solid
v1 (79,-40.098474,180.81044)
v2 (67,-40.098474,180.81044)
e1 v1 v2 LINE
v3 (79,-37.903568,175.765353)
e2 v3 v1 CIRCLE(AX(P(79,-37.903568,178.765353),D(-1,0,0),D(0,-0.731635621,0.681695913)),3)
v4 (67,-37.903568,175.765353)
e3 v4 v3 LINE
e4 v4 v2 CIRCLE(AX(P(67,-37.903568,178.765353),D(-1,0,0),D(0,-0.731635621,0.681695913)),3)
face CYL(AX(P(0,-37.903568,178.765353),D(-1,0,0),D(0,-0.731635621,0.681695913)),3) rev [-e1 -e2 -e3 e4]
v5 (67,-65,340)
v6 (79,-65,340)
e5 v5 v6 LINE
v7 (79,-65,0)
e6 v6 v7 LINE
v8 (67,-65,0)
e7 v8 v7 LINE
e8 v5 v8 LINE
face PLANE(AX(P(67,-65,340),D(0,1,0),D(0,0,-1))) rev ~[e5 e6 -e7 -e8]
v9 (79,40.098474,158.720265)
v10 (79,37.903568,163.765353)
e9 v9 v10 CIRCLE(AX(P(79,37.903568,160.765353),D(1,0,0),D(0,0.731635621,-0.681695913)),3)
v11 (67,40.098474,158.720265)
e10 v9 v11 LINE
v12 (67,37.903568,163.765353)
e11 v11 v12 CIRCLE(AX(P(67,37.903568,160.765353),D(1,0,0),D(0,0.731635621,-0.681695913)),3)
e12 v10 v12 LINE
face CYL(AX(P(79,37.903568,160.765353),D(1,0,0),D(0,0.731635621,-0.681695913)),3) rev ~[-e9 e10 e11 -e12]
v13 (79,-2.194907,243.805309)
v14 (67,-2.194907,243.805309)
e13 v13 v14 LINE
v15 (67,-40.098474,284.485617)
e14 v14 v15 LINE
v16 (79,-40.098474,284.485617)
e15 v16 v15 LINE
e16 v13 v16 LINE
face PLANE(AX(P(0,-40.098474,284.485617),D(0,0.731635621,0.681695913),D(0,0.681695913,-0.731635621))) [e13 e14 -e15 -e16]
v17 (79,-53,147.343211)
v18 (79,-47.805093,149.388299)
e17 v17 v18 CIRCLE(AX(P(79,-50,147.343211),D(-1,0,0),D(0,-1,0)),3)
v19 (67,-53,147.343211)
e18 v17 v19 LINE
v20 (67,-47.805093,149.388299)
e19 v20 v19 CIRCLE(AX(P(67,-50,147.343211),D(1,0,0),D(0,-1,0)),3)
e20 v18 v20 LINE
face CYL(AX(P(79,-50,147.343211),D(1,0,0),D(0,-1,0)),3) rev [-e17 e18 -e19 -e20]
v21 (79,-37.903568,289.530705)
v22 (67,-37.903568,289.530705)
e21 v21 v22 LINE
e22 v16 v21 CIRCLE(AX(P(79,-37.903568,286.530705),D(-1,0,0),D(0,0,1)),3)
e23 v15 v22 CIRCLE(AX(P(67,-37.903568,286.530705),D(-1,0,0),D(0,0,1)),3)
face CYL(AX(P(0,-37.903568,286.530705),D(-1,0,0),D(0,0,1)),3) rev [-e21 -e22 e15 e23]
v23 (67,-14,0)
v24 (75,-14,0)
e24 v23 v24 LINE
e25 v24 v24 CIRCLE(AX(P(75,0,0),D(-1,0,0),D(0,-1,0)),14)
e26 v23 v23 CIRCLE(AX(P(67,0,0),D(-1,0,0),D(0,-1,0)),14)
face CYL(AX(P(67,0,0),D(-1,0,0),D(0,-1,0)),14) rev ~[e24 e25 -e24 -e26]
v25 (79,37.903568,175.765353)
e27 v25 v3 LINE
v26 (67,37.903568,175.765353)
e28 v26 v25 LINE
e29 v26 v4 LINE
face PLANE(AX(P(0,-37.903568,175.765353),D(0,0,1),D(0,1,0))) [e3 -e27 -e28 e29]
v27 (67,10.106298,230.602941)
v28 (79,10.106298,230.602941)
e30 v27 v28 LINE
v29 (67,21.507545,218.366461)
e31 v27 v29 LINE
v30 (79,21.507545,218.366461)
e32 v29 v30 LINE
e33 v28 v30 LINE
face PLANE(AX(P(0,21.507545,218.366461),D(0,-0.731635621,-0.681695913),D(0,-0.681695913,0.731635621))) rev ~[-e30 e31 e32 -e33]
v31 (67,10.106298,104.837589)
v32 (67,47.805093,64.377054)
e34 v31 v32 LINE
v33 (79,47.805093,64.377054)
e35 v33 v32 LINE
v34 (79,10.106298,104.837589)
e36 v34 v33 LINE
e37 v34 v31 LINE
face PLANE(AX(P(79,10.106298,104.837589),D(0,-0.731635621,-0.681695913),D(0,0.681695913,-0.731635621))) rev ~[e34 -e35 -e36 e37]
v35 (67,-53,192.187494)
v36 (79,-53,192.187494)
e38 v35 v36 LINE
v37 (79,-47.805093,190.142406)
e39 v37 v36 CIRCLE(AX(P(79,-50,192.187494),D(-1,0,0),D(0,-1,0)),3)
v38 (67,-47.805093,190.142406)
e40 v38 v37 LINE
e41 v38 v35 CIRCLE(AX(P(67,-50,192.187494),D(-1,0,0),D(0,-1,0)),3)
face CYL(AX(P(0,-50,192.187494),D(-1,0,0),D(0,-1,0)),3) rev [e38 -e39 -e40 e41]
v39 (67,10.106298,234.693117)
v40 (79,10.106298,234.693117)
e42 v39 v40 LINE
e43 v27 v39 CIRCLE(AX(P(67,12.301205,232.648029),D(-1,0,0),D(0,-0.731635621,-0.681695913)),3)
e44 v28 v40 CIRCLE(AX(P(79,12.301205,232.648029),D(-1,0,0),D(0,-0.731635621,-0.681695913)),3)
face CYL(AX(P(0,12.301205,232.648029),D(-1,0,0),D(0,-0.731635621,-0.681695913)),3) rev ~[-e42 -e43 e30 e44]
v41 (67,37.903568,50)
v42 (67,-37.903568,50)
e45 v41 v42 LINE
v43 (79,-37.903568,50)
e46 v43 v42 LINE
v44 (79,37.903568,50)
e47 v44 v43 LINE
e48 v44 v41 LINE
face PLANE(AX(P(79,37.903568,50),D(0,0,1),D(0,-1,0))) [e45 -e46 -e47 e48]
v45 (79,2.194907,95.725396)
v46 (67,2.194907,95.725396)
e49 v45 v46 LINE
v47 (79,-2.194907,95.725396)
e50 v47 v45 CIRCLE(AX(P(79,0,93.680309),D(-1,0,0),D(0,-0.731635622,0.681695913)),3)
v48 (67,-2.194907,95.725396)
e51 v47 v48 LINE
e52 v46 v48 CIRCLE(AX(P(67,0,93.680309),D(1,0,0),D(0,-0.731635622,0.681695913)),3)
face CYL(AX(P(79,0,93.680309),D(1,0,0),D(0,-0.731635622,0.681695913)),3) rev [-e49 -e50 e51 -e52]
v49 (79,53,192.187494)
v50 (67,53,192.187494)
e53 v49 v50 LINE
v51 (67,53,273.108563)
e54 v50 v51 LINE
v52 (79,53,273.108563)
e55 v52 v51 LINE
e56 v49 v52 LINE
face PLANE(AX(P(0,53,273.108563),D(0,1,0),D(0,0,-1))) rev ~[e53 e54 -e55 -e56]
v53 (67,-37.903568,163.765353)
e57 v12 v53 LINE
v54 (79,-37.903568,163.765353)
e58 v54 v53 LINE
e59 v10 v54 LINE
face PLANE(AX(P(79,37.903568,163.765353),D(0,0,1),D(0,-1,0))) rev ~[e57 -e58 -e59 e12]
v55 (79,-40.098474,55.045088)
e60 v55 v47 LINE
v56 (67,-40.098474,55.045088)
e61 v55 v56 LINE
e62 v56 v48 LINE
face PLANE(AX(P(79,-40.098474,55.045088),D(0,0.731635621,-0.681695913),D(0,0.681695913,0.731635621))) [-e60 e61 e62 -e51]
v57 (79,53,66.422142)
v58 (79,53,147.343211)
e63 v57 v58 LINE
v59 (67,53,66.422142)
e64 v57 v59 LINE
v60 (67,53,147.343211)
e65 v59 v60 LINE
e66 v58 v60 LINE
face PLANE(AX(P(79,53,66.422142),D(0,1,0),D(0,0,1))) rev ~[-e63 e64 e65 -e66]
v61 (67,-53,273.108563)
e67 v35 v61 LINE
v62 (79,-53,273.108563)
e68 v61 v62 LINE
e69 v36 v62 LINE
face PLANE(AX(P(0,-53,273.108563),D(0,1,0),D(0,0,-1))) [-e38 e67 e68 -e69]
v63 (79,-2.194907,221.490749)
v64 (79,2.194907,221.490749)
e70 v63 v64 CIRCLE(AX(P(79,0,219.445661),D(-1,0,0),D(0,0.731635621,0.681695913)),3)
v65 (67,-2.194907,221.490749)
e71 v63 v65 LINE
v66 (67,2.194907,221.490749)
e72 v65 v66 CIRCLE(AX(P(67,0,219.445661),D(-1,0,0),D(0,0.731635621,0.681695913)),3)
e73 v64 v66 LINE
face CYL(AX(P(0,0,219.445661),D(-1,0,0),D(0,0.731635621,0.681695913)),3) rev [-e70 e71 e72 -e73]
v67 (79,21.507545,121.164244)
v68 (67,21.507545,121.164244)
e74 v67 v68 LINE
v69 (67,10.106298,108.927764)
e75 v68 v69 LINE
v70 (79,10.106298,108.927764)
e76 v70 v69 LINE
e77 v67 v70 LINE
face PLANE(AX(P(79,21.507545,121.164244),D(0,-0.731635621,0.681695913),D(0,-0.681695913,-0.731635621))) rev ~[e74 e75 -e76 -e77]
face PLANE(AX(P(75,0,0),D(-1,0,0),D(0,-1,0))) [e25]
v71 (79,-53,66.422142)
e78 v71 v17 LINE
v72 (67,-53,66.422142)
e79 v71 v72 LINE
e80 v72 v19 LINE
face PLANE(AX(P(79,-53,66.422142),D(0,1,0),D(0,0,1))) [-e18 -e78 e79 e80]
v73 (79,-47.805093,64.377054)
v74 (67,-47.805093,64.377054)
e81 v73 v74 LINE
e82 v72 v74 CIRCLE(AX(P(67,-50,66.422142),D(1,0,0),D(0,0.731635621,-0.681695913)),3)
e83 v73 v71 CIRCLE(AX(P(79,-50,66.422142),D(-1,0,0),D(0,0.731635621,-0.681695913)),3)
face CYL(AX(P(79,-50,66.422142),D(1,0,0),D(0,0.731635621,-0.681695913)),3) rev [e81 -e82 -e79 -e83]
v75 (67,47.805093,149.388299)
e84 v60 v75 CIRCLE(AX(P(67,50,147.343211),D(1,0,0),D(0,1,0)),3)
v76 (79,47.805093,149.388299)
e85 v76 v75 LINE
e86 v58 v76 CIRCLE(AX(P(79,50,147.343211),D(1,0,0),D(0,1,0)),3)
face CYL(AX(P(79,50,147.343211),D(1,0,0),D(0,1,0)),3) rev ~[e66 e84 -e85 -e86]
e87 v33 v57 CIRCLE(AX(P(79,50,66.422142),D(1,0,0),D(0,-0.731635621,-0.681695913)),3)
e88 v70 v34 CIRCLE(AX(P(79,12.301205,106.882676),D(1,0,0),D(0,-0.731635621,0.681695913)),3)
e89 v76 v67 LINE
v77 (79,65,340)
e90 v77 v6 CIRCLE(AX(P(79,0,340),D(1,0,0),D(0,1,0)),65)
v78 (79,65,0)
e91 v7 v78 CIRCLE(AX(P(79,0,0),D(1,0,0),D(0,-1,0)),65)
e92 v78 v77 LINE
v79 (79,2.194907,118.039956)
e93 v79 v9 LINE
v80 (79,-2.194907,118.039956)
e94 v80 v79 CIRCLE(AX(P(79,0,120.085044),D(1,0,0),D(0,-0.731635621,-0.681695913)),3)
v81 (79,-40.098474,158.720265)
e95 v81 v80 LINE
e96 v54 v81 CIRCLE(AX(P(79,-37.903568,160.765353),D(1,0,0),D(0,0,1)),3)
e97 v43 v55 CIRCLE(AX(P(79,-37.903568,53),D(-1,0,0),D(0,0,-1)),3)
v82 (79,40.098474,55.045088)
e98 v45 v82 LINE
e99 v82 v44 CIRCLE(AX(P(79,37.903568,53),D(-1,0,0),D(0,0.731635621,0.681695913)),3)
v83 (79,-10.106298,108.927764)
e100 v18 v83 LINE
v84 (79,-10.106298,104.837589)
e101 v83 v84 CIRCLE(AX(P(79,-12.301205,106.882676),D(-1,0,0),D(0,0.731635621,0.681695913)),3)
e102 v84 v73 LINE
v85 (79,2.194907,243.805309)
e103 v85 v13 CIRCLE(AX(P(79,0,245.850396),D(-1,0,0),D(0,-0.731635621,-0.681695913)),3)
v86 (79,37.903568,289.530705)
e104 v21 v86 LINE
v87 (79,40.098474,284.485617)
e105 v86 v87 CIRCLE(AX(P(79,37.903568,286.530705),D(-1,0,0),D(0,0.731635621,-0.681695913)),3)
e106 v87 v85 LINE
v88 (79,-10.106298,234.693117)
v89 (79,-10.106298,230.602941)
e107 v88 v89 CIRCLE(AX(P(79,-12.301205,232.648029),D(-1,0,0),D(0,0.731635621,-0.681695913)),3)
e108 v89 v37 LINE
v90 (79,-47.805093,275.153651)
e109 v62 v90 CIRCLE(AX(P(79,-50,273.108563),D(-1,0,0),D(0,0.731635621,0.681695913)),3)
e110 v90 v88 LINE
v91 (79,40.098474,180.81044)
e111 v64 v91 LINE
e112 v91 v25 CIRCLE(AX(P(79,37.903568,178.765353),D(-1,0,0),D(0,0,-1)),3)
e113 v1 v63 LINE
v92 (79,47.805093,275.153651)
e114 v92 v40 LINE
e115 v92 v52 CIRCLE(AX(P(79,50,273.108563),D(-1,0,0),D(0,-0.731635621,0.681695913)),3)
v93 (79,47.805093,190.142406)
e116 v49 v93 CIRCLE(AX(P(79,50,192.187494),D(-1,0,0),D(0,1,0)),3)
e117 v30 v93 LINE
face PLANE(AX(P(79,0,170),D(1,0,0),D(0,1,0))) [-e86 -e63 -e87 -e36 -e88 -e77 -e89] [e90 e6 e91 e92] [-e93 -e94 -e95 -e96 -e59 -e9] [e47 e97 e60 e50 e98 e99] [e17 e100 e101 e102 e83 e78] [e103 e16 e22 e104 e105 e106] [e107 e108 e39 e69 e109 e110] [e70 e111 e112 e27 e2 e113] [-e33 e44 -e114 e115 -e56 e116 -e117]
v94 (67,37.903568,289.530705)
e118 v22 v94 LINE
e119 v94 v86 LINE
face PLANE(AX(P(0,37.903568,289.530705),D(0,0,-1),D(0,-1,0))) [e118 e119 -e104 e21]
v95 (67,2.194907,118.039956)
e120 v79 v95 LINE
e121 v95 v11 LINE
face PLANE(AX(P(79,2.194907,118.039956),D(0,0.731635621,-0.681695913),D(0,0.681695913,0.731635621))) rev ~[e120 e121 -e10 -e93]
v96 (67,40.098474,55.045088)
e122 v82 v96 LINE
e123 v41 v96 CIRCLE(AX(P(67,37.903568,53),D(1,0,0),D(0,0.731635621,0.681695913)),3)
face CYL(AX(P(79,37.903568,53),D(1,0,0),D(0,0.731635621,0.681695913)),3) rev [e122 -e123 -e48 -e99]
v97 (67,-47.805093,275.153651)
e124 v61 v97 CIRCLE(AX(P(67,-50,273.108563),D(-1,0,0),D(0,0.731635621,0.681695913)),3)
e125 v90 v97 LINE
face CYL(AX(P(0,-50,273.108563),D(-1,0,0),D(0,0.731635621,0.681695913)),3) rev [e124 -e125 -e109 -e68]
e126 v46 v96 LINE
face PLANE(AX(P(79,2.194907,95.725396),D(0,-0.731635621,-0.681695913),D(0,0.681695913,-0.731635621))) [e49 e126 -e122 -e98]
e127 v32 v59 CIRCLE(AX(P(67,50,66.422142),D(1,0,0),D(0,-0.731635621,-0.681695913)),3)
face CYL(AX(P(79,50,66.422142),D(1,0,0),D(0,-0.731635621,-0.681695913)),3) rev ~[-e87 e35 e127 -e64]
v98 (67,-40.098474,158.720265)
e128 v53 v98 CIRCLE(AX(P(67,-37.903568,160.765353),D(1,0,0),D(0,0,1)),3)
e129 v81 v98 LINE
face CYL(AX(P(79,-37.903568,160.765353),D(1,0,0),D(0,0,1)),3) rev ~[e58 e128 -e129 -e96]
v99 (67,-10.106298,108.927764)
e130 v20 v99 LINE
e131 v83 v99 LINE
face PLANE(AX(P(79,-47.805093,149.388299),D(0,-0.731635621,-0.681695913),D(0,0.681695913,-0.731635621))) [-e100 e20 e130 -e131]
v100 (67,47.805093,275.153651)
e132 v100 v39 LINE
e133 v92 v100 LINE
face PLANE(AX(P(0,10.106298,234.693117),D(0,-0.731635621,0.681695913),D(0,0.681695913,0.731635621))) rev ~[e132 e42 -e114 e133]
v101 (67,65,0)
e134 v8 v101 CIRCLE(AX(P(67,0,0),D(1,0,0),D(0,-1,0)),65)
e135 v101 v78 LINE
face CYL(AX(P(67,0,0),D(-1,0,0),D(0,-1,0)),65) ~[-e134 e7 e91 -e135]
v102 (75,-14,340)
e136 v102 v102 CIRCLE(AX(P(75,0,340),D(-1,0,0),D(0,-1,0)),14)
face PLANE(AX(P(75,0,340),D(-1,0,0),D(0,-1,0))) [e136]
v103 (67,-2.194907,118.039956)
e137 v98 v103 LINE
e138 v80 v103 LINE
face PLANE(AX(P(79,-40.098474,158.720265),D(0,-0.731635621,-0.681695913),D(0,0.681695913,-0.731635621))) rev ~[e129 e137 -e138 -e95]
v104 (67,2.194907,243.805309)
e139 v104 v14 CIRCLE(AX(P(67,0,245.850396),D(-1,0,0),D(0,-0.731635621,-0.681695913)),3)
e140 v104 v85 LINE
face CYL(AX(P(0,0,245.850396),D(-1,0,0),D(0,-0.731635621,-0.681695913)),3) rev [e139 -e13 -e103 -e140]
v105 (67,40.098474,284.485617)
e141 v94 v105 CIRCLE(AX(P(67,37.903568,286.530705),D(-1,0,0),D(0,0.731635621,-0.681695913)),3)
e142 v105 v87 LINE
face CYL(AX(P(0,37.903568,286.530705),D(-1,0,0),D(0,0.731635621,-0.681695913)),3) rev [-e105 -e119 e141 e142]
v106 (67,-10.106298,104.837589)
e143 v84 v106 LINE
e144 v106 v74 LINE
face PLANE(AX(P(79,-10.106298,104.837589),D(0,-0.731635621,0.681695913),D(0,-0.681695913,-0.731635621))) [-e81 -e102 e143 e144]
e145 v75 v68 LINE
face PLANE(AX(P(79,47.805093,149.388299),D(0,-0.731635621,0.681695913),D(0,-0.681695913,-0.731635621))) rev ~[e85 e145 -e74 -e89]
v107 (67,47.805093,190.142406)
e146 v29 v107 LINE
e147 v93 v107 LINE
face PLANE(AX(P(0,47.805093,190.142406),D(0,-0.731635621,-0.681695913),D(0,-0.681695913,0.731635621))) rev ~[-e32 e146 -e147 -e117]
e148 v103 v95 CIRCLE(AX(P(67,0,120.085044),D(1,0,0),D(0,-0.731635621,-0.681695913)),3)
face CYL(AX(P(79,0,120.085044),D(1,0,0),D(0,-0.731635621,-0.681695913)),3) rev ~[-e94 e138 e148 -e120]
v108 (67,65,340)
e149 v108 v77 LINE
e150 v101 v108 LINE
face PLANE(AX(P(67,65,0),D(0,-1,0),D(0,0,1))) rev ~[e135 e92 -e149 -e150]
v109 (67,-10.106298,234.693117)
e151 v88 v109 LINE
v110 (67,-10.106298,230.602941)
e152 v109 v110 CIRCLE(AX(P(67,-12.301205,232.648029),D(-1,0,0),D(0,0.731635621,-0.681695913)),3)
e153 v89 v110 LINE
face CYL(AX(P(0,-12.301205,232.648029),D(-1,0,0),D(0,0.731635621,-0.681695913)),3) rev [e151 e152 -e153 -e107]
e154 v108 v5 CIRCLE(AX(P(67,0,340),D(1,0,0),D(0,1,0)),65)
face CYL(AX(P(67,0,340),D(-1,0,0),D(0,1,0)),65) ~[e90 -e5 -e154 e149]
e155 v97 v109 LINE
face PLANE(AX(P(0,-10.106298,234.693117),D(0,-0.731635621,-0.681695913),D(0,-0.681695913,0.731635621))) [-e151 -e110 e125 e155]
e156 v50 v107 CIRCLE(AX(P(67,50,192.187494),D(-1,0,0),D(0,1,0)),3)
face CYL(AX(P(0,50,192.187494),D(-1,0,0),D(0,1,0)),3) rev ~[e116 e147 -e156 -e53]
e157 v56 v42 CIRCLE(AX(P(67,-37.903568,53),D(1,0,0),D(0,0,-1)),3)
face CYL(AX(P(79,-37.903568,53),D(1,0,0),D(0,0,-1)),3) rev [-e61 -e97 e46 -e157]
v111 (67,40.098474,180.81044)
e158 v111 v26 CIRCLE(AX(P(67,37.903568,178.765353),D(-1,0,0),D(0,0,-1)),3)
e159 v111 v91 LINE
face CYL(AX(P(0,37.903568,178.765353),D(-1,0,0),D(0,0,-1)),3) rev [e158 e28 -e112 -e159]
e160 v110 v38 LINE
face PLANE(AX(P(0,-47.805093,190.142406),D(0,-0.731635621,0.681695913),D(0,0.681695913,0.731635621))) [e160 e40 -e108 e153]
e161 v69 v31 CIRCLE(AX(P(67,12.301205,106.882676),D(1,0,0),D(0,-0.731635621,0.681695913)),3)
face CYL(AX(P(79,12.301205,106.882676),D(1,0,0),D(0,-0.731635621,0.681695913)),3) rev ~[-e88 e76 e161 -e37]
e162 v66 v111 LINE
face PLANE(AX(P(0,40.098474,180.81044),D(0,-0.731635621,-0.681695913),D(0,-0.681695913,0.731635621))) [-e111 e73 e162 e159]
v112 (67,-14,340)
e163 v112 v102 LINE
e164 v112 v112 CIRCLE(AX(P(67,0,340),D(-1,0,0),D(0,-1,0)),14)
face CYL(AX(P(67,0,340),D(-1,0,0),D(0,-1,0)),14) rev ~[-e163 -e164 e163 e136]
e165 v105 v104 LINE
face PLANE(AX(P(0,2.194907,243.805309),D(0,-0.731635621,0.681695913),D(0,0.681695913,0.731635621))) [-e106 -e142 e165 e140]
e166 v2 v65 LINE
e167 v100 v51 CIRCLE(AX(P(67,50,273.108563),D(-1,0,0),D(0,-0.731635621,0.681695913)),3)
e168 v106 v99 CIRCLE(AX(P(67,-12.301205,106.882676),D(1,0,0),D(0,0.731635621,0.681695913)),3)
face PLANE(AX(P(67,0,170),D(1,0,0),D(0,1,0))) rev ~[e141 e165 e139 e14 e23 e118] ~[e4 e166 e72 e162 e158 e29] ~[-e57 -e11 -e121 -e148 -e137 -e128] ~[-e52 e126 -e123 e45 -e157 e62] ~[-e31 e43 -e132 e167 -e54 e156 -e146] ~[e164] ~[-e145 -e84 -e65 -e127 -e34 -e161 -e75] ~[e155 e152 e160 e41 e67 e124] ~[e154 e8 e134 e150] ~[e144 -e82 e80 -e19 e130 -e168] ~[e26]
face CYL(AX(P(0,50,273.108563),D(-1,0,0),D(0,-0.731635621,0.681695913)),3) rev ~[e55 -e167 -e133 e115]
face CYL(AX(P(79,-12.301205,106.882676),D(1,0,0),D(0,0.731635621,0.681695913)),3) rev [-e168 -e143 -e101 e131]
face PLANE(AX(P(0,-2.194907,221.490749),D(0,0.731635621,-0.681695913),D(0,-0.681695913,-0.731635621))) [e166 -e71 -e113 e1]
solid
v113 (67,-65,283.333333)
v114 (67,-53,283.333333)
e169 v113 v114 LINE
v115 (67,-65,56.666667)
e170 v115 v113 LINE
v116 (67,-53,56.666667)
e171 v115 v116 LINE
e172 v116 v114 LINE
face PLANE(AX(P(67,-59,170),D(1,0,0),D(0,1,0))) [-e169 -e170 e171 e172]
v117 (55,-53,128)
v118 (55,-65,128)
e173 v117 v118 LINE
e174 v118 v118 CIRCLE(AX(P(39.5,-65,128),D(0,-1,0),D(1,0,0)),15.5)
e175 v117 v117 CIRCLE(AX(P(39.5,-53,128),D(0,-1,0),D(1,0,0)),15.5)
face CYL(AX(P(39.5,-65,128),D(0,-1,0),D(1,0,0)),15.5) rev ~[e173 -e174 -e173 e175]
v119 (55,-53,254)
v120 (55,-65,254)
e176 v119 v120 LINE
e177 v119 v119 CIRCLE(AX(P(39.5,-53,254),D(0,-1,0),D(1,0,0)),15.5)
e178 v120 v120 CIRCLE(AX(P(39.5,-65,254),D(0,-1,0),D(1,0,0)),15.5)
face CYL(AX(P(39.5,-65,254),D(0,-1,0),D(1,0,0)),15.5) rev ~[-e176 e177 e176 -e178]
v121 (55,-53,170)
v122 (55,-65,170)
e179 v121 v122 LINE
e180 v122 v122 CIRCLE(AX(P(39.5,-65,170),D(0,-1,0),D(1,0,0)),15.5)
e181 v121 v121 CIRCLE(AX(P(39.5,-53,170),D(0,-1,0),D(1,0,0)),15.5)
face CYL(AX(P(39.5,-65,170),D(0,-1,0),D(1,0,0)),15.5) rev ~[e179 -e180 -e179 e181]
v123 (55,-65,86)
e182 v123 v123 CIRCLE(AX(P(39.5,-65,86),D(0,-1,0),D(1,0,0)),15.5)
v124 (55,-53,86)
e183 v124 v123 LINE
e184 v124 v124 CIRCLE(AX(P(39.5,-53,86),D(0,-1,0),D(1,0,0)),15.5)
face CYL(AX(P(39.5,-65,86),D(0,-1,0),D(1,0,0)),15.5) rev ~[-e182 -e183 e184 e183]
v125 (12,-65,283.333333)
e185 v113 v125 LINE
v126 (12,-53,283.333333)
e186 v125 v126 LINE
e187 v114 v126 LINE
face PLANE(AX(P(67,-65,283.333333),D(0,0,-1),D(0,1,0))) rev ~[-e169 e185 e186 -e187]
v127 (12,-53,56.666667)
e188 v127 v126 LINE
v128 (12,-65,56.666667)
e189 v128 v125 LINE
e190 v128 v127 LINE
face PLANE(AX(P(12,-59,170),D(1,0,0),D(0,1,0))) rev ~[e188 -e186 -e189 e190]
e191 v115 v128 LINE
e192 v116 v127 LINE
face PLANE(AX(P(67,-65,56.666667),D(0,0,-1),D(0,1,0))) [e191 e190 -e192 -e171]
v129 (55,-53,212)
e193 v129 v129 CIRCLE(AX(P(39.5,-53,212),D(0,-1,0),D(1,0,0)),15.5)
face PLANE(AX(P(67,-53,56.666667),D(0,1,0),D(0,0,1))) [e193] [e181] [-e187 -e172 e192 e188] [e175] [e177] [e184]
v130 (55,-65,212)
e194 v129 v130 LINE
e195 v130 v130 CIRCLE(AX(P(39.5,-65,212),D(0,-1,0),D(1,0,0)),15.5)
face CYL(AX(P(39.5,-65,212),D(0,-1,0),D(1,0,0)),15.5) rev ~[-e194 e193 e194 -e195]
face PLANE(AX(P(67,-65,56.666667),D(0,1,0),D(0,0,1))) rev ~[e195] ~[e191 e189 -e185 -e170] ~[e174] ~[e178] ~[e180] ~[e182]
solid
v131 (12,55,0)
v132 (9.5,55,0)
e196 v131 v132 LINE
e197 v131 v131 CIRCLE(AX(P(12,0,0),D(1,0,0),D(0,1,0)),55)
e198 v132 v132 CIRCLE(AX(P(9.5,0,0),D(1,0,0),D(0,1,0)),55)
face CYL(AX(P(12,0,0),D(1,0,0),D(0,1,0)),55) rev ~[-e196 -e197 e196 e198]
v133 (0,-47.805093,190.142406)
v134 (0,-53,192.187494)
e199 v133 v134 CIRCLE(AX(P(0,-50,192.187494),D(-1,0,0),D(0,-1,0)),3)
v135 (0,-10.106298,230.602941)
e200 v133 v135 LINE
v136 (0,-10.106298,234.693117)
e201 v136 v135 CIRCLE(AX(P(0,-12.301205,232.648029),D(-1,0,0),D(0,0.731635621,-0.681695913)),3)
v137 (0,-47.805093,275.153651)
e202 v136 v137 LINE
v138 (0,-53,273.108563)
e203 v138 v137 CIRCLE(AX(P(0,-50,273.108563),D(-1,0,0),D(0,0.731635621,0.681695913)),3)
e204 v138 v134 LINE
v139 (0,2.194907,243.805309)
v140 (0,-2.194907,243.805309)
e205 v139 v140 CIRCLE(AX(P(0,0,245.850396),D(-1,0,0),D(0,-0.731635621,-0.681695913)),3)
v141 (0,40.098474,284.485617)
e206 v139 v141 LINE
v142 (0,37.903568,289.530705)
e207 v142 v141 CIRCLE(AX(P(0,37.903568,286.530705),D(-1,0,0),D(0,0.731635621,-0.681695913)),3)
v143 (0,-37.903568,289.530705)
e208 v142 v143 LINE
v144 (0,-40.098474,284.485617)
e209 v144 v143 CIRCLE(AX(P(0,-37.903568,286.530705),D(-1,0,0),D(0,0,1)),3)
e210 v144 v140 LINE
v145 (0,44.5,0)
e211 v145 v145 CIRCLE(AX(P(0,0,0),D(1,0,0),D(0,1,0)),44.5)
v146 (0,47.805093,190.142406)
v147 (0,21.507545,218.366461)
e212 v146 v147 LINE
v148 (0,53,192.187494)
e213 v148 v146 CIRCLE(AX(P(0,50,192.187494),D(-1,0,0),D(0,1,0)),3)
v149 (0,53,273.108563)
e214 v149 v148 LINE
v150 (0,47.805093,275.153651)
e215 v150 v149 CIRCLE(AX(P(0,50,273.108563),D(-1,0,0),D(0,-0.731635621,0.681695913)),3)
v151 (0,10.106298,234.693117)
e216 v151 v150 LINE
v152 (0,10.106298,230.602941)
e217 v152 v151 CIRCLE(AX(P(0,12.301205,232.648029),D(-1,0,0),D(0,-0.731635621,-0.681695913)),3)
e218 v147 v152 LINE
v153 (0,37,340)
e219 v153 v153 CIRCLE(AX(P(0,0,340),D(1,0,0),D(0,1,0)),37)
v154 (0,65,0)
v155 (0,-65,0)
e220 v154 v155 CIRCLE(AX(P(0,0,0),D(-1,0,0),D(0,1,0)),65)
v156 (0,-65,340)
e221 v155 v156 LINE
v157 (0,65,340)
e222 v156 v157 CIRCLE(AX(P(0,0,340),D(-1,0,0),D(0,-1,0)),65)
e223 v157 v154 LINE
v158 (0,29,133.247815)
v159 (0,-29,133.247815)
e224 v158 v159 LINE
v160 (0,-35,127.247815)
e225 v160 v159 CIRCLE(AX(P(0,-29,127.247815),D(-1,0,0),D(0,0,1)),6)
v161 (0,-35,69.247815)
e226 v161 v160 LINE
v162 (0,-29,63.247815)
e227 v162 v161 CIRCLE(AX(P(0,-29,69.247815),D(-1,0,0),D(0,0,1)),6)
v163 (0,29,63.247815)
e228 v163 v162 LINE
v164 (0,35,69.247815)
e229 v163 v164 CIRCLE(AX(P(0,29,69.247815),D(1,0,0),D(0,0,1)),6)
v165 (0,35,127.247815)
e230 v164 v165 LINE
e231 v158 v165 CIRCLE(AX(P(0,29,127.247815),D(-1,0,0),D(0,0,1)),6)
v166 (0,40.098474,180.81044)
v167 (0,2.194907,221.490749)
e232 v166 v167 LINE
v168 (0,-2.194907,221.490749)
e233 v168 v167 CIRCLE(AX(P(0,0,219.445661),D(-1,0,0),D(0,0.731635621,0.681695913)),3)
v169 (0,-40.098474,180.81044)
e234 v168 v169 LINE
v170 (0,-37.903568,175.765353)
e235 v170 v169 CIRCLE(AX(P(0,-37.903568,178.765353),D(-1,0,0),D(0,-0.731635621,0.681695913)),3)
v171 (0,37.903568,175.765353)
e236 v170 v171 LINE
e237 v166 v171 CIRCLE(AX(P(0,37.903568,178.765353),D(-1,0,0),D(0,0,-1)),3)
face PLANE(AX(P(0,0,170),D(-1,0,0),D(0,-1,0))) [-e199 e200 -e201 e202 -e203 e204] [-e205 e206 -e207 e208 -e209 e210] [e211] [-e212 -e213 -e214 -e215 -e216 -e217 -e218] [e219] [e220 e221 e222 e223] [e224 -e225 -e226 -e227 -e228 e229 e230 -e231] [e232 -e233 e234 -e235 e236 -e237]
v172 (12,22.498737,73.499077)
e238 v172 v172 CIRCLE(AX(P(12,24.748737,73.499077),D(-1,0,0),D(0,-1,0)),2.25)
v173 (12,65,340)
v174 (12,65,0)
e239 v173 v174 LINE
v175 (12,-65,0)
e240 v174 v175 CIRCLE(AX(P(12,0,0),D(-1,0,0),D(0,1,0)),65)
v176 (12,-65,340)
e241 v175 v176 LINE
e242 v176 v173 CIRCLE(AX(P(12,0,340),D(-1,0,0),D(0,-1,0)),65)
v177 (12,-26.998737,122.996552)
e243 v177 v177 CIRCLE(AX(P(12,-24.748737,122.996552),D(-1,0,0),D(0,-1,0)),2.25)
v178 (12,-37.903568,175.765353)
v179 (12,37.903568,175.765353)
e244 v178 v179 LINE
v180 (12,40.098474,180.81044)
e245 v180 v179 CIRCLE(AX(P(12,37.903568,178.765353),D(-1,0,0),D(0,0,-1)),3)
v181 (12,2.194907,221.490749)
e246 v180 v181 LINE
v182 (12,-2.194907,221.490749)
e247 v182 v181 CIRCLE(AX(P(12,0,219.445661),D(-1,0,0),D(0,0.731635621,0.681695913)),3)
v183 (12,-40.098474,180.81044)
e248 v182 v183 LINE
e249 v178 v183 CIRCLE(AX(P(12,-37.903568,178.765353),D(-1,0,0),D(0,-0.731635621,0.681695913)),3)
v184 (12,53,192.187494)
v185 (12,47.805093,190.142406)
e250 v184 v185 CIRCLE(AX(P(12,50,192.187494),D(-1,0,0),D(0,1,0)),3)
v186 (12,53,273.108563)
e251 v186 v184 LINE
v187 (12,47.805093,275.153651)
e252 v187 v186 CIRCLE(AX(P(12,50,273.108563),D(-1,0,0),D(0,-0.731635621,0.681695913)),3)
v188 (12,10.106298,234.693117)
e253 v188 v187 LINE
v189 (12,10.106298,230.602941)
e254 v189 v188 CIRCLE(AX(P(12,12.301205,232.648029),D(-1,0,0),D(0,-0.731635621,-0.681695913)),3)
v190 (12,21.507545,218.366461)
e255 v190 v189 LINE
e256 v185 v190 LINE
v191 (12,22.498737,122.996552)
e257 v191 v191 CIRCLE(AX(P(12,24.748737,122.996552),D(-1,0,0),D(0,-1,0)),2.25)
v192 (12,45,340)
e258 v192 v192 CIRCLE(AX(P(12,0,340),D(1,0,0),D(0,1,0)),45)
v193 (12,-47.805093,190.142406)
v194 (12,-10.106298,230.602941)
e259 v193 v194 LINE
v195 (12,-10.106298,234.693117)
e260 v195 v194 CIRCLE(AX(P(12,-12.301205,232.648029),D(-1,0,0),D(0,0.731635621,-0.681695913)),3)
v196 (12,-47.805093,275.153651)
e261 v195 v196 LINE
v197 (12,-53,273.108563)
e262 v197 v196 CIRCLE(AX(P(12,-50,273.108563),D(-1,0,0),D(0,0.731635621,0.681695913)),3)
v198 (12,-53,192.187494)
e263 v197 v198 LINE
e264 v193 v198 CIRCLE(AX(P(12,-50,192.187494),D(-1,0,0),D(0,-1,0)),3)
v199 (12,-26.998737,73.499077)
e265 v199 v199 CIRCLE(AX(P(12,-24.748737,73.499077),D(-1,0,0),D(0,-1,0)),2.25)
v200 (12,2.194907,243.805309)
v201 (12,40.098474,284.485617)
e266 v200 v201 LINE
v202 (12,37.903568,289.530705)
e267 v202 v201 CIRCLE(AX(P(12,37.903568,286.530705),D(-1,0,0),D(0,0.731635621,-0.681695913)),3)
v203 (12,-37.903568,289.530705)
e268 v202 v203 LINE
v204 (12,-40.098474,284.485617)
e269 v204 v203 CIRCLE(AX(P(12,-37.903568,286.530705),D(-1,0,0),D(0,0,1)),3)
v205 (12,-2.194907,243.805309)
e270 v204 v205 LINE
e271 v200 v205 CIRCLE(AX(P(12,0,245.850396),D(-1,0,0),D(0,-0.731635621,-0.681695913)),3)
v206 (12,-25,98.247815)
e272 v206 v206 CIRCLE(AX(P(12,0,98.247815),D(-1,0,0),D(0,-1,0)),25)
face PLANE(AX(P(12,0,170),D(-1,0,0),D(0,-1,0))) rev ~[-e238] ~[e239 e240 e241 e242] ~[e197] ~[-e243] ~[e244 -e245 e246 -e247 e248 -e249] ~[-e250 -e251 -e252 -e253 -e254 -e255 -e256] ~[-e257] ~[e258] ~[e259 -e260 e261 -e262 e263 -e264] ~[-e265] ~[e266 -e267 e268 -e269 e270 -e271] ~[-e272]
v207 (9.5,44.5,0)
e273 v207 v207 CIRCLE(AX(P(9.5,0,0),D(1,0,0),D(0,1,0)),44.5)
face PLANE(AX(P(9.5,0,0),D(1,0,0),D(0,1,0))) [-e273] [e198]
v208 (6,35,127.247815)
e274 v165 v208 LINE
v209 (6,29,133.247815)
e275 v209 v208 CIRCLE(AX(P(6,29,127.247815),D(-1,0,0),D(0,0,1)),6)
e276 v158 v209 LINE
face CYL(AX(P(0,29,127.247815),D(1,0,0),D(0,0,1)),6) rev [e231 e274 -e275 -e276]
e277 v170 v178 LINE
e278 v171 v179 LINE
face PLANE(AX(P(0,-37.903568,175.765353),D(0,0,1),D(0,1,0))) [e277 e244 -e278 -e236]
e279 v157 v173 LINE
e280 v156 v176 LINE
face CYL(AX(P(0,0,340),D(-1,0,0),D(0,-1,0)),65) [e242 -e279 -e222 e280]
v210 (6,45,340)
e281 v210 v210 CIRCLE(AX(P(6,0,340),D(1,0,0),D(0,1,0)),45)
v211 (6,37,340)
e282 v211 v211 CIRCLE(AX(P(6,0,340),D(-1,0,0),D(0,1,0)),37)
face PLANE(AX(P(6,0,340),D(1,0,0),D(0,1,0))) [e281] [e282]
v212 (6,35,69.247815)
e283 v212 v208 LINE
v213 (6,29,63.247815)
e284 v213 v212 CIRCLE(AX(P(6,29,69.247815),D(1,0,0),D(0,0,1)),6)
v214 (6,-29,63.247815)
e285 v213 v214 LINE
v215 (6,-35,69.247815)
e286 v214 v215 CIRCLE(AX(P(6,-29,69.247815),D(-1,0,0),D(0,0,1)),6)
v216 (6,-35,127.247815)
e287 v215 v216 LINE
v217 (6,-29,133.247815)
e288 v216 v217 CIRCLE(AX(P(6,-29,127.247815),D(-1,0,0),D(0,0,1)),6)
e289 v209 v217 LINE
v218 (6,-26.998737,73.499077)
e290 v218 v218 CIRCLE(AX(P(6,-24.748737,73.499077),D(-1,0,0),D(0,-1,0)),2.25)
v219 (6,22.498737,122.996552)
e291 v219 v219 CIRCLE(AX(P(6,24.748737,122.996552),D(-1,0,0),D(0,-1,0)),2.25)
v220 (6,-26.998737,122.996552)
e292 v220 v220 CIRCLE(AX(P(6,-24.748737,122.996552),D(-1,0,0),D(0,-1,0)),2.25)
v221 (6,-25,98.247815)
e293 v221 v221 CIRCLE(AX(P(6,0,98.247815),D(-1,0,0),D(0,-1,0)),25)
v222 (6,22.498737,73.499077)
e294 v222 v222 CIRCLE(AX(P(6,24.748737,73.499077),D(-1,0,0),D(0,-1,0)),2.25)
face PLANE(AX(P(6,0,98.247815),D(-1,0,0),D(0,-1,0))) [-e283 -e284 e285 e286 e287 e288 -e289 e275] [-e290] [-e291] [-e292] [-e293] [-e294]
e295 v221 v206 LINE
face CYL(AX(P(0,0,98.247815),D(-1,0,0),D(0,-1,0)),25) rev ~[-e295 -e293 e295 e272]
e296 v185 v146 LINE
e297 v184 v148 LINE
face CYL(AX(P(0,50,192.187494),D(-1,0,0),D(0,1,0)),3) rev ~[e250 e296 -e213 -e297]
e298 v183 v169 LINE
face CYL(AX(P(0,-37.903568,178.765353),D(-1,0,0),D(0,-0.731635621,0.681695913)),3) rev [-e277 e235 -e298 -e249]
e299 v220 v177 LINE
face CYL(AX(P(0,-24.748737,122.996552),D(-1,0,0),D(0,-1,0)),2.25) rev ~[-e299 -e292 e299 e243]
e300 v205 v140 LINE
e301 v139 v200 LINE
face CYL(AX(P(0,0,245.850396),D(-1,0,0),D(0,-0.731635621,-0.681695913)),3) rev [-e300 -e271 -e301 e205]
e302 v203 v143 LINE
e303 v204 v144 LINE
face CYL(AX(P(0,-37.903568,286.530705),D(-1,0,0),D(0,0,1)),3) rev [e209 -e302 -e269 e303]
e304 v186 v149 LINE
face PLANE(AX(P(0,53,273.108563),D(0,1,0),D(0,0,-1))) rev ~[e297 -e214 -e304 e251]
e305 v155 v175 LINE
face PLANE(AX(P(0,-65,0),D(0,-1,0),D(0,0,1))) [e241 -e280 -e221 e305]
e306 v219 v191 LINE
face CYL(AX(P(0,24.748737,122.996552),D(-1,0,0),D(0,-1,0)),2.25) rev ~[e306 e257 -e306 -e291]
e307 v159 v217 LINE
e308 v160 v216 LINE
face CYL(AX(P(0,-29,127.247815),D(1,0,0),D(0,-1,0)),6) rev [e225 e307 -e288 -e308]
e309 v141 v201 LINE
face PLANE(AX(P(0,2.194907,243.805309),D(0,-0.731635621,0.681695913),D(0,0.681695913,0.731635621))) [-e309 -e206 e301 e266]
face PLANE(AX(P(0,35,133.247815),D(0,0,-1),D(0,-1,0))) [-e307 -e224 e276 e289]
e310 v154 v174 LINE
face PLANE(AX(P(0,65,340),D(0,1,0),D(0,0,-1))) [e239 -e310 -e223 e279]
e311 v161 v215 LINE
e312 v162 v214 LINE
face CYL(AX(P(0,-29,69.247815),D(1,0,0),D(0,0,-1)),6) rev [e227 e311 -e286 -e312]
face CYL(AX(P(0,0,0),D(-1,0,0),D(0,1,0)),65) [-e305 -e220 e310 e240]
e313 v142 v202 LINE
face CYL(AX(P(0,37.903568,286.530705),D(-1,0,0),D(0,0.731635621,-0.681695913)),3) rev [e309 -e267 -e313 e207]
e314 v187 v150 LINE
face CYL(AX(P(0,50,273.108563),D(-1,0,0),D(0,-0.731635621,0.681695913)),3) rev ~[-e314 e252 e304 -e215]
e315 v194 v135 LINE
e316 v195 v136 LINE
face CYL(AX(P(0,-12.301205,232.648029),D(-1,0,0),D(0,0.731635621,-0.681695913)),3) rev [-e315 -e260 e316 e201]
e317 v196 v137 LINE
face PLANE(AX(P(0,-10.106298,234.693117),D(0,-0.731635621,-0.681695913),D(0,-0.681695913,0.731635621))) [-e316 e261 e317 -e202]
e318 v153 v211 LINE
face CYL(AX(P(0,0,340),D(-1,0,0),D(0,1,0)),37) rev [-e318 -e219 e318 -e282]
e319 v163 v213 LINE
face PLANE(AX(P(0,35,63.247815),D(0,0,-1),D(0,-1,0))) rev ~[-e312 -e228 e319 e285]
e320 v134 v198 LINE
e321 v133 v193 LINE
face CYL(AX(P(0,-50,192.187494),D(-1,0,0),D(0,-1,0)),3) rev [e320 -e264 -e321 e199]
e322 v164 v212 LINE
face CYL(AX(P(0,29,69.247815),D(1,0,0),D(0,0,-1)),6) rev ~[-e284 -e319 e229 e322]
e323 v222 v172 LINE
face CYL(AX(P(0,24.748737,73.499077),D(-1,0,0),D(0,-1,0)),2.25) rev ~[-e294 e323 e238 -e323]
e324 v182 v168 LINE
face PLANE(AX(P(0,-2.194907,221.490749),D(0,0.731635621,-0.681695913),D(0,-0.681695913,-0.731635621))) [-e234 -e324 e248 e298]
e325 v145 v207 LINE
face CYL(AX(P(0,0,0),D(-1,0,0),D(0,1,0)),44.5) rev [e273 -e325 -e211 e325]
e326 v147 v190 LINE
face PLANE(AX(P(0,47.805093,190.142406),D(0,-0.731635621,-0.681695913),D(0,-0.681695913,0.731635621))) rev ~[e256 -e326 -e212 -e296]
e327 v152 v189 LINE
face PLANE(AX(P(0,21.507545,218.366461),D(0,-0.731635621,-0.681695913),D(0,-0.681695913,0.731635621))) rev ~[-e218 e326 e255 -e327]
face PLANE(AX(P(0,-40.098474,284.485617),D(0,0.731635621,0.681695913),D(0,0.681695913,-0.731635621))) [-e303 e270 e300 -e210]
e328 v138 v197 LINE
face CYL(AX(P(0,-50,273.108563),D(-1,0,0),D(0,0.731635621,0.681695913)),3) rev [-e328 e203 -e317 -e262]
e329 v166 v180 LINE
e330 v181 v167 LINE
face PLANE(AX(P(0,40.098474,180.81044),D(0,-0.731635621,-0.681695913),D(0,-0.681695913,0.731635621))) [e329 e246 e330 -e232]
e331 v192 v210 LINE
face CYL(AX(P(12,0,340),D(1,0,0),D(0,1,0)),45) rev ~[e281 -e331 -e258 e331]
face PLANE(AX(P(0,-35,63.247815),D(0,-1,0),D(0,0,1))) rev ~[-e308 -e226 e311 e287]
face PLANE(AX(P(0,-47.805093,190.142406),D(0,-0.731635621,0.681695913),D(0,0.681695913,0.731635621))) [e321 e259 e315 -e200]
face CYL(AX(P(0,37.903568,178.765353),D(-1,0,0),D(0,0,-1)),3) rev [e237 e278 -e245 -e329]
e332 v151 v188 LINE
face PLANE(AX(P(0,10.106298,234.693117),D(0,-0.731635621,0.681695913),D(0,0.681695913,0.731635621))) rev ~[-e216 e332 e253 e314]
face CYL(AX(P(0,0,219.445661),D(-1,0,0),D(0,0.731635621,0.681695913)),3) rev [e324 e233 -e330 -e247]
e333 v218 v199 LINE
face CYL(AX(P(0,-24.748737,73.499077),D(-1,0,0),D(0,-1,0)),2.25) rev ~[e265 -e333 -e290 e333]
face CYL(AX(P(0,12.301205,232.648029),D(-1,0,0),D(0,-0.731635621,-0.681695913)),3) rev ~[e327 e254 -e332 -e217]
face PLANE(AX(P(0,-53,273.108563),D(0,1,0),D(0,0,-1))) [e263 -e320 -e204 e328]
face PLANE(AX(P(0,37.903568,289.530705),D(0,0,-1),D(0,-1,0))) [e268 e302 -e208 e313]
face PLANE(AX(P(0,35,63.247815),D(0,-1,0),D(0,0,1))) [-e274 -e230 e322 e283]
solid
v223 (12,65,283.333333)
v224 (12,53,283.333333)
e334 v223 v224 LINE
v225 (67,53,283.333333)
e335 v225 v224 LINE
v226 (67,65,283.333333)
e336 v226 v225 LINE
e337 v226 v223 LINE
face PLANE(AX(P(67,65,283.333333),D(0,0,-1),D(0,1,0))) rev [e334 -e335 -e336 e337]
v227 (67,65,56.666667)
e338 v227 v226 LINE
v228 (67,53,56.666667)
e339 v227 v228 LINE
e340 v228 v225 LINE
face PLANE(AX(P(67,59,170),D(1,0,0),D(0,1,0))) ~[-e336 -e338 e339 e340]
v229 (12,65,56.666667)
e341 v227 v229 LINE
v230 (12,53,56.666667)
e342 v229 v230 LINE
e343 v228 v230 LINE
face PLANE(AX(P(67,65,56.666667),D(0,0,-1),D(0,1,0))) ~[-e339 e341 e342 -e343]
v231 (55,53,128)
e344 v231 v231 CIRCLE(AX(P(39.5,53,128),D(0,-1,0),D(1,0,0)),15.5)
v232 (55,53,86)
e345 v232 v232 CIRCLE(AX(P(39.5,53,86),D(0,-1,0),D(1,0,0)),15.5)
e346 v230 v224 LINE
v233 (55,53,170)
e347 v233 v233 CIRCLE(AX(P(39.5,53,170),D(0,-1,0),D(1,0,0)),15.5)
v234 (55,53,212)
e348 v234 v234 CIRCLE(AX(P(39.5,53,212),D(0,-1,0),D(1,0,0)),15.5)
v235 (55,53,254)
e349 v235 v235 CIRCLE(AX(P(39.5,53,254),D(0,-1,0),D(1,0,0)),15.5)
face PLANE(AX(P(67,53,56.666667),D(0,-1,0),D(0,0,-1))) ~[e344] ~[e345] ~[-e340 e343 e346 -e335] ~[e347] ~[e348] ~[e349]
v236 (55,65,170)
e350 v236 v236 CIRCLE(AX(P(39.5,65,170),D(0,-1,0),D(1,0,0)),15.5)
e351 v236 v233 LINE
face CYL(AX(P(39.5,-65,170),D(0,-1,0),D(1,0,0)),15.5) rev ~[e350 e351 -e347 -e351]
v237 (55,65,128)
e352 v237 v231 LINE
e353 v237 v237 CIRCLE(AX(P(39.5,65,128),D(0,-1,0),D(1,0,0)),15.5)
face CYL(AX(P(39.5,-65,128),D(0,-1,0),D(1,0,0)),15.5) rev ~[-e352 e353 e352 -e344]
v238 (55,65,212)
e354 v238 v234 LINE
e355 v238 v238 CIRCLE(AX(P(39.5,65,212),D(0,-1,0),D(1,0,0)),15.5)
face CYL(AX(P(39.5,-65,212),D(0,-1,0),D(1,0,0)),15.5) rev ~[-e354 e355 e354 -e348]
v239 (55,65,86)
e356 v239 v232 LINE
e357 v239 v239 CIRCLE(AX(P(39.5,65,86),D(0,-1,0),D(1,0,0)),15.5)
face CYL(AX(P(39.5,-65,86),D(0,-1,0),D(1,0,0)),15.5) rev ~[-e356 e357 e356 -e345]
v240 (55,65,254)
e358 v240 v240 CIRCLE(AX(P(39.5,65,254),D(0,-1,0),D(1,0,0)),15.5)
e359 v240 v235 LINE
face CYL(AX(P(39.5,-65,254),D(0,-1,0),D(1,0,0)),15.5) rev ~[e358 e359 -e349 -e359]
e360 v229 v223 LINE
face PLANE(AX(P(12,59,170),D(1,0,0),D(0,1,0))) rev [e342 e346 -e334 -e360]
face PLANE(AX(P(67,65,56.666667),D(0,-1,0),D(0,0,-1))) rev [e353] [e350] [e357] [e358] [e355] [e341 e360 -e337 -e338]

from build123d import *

# Parameters (mm, degrees)
PLATE_REFS_R                    = 44.5
PLATE_REFS_R_2                  = 15
PLATE_REFS_R_3                  = 45
PLATE_REFS_R_4                  = 37
PLATE_REFS_R_5                  = 55
PLATE_SHAPE_DEPTH               = 12
SHOULDER_GEAR_SLOT_START        = 12
PLATE_REFS_4_R                  = 55
PLATE_REFS_4_R_2                = 44.5
SHOULDER_GEAR_SLOT_DEPTH        = 2.5
ELBOW_GEAR_SLOT_START           = 12
PLATE_REFS_5_R                  = 45
ELBOW_GEAR_SLOT_DEPTH           = 6
SKETCH2_R                       = 25
SKETCH2_R_2                     = 2.25
J3_MOTOR_1_DEPTH                = 1
J3_MOTOR_1_DEPTH_BACK           = 13
SKETCH2_3_W                     = 70
SKETCH2_3_H                     = 70
SKETCH2_3_R                     = 25
SKETCH2_3_R_2                   = 2.25
J3_MOTOR_2_DEPTH                = 1
J3_MOTOR_2_DEPTH_BACK           = 6
FILLET1_R                       = 6
TOP_PLATE_START                 = 67
SKETCH3_W                       = 12
SKETCH3_H                       = 226.666666666
TOP_PLATE_DEPTH                 = 55
SIDE_PLATE_2_START              = 67
SIDE_PLATE_2_DEPTH              = 12
SKETCH4_R                       = 14
SIDE_PLATE_BEARING_MOUNTS_DEPTH = 8
PLATE_REFS_7_R                  = 37
CUT_EXTRUDE3_DEPTH              = 8
CUT_EXTRUDE4_DEPTH              = 1
CUT_EXTRUDE4_DEPTH_BACK         = 80
CUT_EXTRUDE5_DEPTH              = 1
CUT_EXTRUDE5_DEPTH_BACK         = 20
SKETCH8_R                       = 15.5
CUT_EXTRUDE6_DEPTH              = 1
CUT_EXTRUDE6_DEPTH_BACK         = 131


with BuildPart() as part:
    # Plate_refs → Plate_shape (new body)
    with BuildSketch(Plane.YZ):
        with BuildLine():
            Line((65, 340), (65, 0))
            ThreePointArc((65, 0), (0, -65), (-65, 0))
            Line((-65, 0), (-65, 340))
            ThreePointArc((-65, 340), (0, 405), (65, 340))
        make_face()
        Circle(PLATE_REFS_R, mode=Mode.SUBTRACT)
        with Locations((0, 340)):
            Circle(PLATE_REFS_R_2, mode=Mode.SUBTRACT)
        with Locations((0, 340)):
            Circle(PLATE_REFS_R_3)
        with Locations((0, 340)):
            Circle(PLATE_REFS_R_4, mode=Mode.SUBTRACT)
        with Locations((0, 340)):
            Circle(PLATE_REFS_R_4)
        with Locations((0, 340)):
            Circle(PLATE_REFS_R_2, mode=Mode.SUBTRACT)
        Circle(PLATE_REFS_R_5)
        Circle(PLATE_REFS_R, mode=Mode.SUBTRACT)
    extrude(amount=PLATE_SHAPE_DEPTH)

    # Plate_refs<4> → Shoulder_gear_slot (cut)
    with BuildSketch(Plane.YZ.offset(SHOULDER_GEAR_SLOT_START)):
        Circle(PLATE_REFS_4_R)
        Circle(PLATE_REFS_4_R_2, mode=Mode.SUBTRACT)
    extrude(amount=-SHOULDER_GEAR_SLOT_DEPTH, mode=Mode.SUBTRACT)

    # Plate_refs<5> → Elbow_gear_slot (cut)
    with BuildSketch(Plane.YZ.offset(ELBOW_GEAR_SLOT_START)):
        with Locations((0, 340)):
            Circle(PLATE_REFS_5_R)
    extrude(amount=-ELBOW_GEAR_SLOT_DEPTH, mode=Mode.SUBTRACT)

    # Sketch2 → J3_motor_1 (cut, two sides)
    with BuildSketch(Plane(origin=(0, 0, 0), x_dir=(0, -1, 0), z_dir=(-1, 0, 0))) as j3_motor_1_sk:
        with Locations((0, 98.247814675)):
            Circle(SKETCH2_R)
        with Locations((-24.748737342, 122.996552017)):
            Circle(SKETCH2_R_2)
        with Locations((24.748737342, 73.499077334)):
            Circle(SKETCH2_R_2)
        with Locations((24.748737342, 122.996552017)):
            Circle(SKETCH2_R_2)
        with Locations((-24.748737342, 73.499077334)):
            Circle(SKETCH2_R_2)
    extrude(amount=J3_MOTOR_1_DEPTH, mode=Mode.SUBTRACT)
    extrude(j3_motor_1_sk.sketch, amount=-J3_MOTOR_1_DEPTH_BACK, mode=Mode.SUBTRACT)

    # Sketch2<3> → J3_motor_2 (cut, two sides)
    with BuildSketch(Plane(origin=(0, 0, 0), x_dir=(0, -1, 0), z_dir=(-1, 0, 0))) as j3_motor_2_sk:
        with Locations((0, 98.247814675)):
            Rectangle(SKETCH2_3_W, SKETCH2_3_H)
        with Locations((0, 98.247814675)):
            Circle(SKETCH2_3_R, mode=Mode.SUBTRACT)
        with Locations((24.748737342, 122.996552017)):
            Circle(SKETCH2_3_R_2, mode=Mode.SUBTRACT)
        with Locations((24.748737342, 73.499077334)):
            Circle(SKETCH2_3_R_2, mode=Mode.SUBTRACT)
        with Locations((-24.748737342, 73.499077334)):
            Circle(SKETCH2_3_R_2, mode=Mode.SUBTRACT)
        with Locations((-24.748737342, 122.996552017)):
            Circle(SKETCH2_3_R_2, mode=Mode.SUBTRACT)
    extrude(amount=J3_MOTOR_2_DEPTH, mode=Mode.SUBTRACT)
    extrude(j3_motor_2_sk.sketch, amount=-J3_MOTOR_2_DEPTH_BACK, mode=Mode.SUBTRACT)

    # Fillet1
    fillet1_edges = [part.edges().sort_by_distance(p)[0] for p in [
        (3, -35, 63.247814675),
        (3, -35, 133.247814675),
        (3, 35, 133.247814675),
        (3, 35, 63.247814675),
    ]]
    fillet(fillet1_edges, radius=FILLET1_R)

    # Plate_refs<7> → Cut-Extrude3 (cut)
    with BuildSketch(Plane.YZ):
        with Locations((0, 340)):
            Circle(PLATE_REFS_7_R)
    extrude(amount=CUT_EXTRUDE3_DEPTH, mode=Mode.SUBTRACT)


with BuildPart() as body_2:
    # Sketch3 → Top_plate (new body)
    with BuildSketch(Plane.YZ.offset(TOP_PLATE_START)):
        with Locations((-59, 170)):
            Rectangle(SKETCH3_W, SKETCH3_H)
    extrude(amount=-TOP_PLATE_DEPTH)


with BuildPart() as body_3:
    # Bottom_plate: mirrored copy
    add(body_2.part.mirror(Plane.ZX))


with BuildPart() as body_4:
    # Plate_refs<6> → Side_plate_2 (new body)
    with BuildSketch(Plane.YZ.offset(SIDE_PLATE_2_START)):
        with BuildLine():
            Line((-65, 340), (-65, 0))
            ThreePointArc((-65, 0), (0, -65), (65, 0))
            Line((65, 0), (65, 340))
            ThreePointArc((65, 340), (0, 405), (-65, 340))
        make_face()
    extrude(amount=SIDE_PLATE_2_DEPTH)

    # Sketch4 → Side_plate_bearing_mounts (cut)
    with BuildSketch(Plane(origin=(67, 0, 0), x_dir=(0, -1, 0), z_dir=(-1, 0, 0))):
        with Locations((0, 340)):
            Circle(SKETCH4_R)
        Circle(SKETCH4_R)
    extrude(amount=-SIDE_PLATE_BEARING_MOUNTS_DEPTH, mode=Mode.SUBTRACT)


with BuildPart() as cut_extrude4_tool:
    # Sketch5 → Cut-Extrude4 (new body, two sides)
    with BuildSketch(Plane(origin=(0, 0, 0), x_dir=(0, -1, 0), z_dir=(-1, 0, 0))) as cut_extrude4_sk:
        with BuildLine():
            Line((-10.106298461, 234.693116547), (-47.805093136, 275.153651137))
            ThreePointArc((-47.805093136, 275.153651137), (-51.098926615, 275.900043345), (-53, 273.108563398))
            Line((-53, 273.108563398), (-53, 192.187494218))
            ThreePointArc((-53, 192.187494218), (-51.098926615, 189.396014271), (-47.805093136, 190.142406479))
            Line((-47.805093136, 190.142406479), (-21.507545379, 218.366461116))
            Line((-21.507545379, 218.366461116), (-10.106298461, 230.602941069))
            ThreePointArc((-10.106298461, 230.602941069), (-9.301205324, 232.648028808), (-10.106298461, 234.693116547))
        make_face()
        with BuildLine():
            ThreePointArc((2.194906864, 243.80530862), (0, 242.850396359), (-2.194906864, 243.80530862))
            Line((-2.194906864, 243.80530862), (-40.098474408, 284.485617338))
            ThreePointArc((-40.098474408, 284.485617338), (-40.654500406, 287.727521016), (-37.903567544, 289.530705077))
            Line((-37.903567544, 289.530705077), (37.903567544, 289.530705077))
            ThreePointArc((37.903567544, 289.530705077), (40.654500406, 287.727521016), (40.098474408, 284.485617338))
            Line((40.098474408, 284.485617338), (2.194906864, 243.80530862))
        make_face()
        with BuildLine():
            ThreePointArc((47.805093136, 275.153651137), (51.098926615, 275.900043345), (53, 273.108563398))
            Line((53, 273.108563398), (53, 192.187494218))
            ThreePointArc((53, 192.187494218), (51.098926615, 189.396014271), (47.805093136, 190.142406479))
            Line((47.805093136, 190.142406479), (10.106298461, 230.602941069))
            ThreePointArc((10.106298461, 230.602941069), (9.301205324, 232.648028808), (10.106298461, 234.693116547))
            Line((10.106298461, 234.693116547), (47.805093136, 275.153651137))
        make_face()
        with BuildLine():
            ThreePointArc((40.098474408, 180.810440277), (40.654500406, 177.5685366), (37.903567544, 175.765352539))
            Line((37.903567544, 175.765352539), (-37.903567544, 175.765352539))
            ThreePointArc((-37.903567544, 175.765352539), (-40.654500406, 177.5685366), (-40.098474408, 180.810440277))
            Line((-40.098474408, 180.810440277), (-2.194906864, 221.490748996))
            ThreePointArc((-2.194906864, 221.490748996), (0, 222.445661257), (2.194906864, 221.490748996))
            Line((2.194906864, 221.490748996), (40.098474408, 180.810440277))
        make_face()
    extrude(amount=CUT_EXTRUDE4_DEPTH)
    extrude(cut_extrude4_sk.sketch, amount=-CUT_EXTRUDE4_DEPTH_BACK)


with BuildPart() as part_1:
    add(part.part)

    # Cut-Extrude4: cut by cut_extrude4_tool
    add(cut_extrude4_tool.part, mode=Mode.SUBTRACT)


with BuildPart() as body_4_1:
    add(body_4.part)

    # Cut-Extrude4: cut by cut_extrude4_tool
    add(cut_extrude4_tool.part, mode=Mode.SUBTRACT)

    # Sketch7 → Cut-Extrude5 (cut, two sides)
    with BuildSketch(Plane.YZ.offset(79)) as cut_extrude5_sk:
        with BuildLine():
            Line((10.106298461, 104.837588531), (47.805093136, 64.37705394))
            ThreePointArc((47.805093136, 64.37705394), (51.098926615, 63.630661732), (53, 66.422141679))
            Line((53, 66.422141679), (53, 147.343210859))
            ThreePointArc((53, 147.343210859), (51.098926615, 150.134690807), (47.805093136, 149.388298598))
            Line((47.805093136, 149.388298598), (21.507545379, 121.164243962))
            Line((21.507545379, 121.164243962), (10.106298461, 108.927764008))
            ThreePointArc((10.106298461, 108.927764008), (9.301205324, 106.882676269), (10.106298461, 104.837588531))
        make_face()
        with BuildLine():
            Line((37.903567544, 50), (-37.903567544, 50))
            ThreePointArc((-37.903567544, 50), (-40.654500406, 51.803184061), (-40.098474408, 55.045087739))
            Line((-40.098474408, 55.045087739), (-2.194906864, 95.725396457))
            ThreePointArc((-2.194906864, 95.725396457), (0, 96.680308719), (2.194906864, 95.725396457))
            Line((2.194906864, 95.725396457), (40.098474408, 55.045087739))
            ThreePointArc((40.098474408, 55.045087739), (40.654500406, 51.803184061), (37.903567544, 50))
        make_face()
        with BuildLine():
            Line((-10.106298461, 104.837588531), (-47.805093136, 64.37705394))
            ThreePointArc((-47.805093136, 64.37705394), (-51.098926615, 63.630661732), (-53, 66.422141679))
            Line((-53, 66.422141679), (-53, 147.343210859))
            ThreePointArc((-53, 147.343210859), (-51.098926615, 150.134690807), (-47.805093136, 149.388298598))
            Line((-47.805093136, 149.388298598), (-10.106298461, 108.927764008))
            ThreePointArc((-10.106298461, 108.927764008), (-9.301205324, 106.882676269), (-10.106298461, 104.837588531))
        make_face()
        with BuildLine():
            Line((-40.098474408, 158.7202648), (-2.194906864, 118.039956081))
            ThreePointArc((-2.194906864, 118.039956081), (0, 117.08504382), (2.194906864, 118.039956081))
            Line((2.194906864, 118.039956081), (40.098474408, 158.7202648))
            ThreePointArc((40.098474408, 158.7202648), (40.654500406, 161.962168478), (37.903567544, 163.765352539))
            Line((37.903567544, 163.765352539), (-37.903567544, 163.765352539))
            ThreePointArc((-37.903567544, 163.765352539), (-40.654500406, 161.962168478), (-40.098474408, 158.7202648))
        make_face()
    extrude(amount=CUT_EXTRUDE5_DEPTH, mode=Mode.SUBTRACT)
    extrude(cut_extrude5_sk.sketch, amount=-CUT_EXTRUDE5_DEPTH_BACK, mode=Mode.SUBTRACT)


with BuildPart() as cut_extrude6_tool:
    # Sketch8 → Cut-Extrude6 (new body, two sides)
    with BuildSketch(Plane.XZ.offset(65)) as cut_extrude6_sk:
        with Locations((39.5, 170)):
            Circle(SKETCH8_R)
        with Locations((39.5, 128)):
            Circle(SKETCH8_R)
        with Locations((39.5, 86)):
            Circle(SKETCH8_R)
        with Locations((39.5, 254)):
            Circle(SKETCH8_R)
        with Locations((39.5, 212)):
            Circle(SKETCH8_R)
    extrude(amount=CUT_EXTRUDE6_DEPTH)
    extrude(cut_extrude6_sk.sketch, amount=-CUT_EXTRUDE6_DEPTH_BACK)


with BuildPart() as body_2_1:
    add(body_2.part)

    # Cut-Extrude6: cut by cut_extrude6_tool
    add(cut_extrude6_tool.part, mode=Mode.SUBTRACT)


with BuildPart() as body_3_1:
    add(body_3.part)

    # Cut-Extrude6: cut by cut_extrude6_tool
    add(cut_extrude6_tool.part, mode=Mode.SUBTRACT)


solid = Compound([part_1.part, body_4_1.part, body_2_1.part, body_3_1.part])
